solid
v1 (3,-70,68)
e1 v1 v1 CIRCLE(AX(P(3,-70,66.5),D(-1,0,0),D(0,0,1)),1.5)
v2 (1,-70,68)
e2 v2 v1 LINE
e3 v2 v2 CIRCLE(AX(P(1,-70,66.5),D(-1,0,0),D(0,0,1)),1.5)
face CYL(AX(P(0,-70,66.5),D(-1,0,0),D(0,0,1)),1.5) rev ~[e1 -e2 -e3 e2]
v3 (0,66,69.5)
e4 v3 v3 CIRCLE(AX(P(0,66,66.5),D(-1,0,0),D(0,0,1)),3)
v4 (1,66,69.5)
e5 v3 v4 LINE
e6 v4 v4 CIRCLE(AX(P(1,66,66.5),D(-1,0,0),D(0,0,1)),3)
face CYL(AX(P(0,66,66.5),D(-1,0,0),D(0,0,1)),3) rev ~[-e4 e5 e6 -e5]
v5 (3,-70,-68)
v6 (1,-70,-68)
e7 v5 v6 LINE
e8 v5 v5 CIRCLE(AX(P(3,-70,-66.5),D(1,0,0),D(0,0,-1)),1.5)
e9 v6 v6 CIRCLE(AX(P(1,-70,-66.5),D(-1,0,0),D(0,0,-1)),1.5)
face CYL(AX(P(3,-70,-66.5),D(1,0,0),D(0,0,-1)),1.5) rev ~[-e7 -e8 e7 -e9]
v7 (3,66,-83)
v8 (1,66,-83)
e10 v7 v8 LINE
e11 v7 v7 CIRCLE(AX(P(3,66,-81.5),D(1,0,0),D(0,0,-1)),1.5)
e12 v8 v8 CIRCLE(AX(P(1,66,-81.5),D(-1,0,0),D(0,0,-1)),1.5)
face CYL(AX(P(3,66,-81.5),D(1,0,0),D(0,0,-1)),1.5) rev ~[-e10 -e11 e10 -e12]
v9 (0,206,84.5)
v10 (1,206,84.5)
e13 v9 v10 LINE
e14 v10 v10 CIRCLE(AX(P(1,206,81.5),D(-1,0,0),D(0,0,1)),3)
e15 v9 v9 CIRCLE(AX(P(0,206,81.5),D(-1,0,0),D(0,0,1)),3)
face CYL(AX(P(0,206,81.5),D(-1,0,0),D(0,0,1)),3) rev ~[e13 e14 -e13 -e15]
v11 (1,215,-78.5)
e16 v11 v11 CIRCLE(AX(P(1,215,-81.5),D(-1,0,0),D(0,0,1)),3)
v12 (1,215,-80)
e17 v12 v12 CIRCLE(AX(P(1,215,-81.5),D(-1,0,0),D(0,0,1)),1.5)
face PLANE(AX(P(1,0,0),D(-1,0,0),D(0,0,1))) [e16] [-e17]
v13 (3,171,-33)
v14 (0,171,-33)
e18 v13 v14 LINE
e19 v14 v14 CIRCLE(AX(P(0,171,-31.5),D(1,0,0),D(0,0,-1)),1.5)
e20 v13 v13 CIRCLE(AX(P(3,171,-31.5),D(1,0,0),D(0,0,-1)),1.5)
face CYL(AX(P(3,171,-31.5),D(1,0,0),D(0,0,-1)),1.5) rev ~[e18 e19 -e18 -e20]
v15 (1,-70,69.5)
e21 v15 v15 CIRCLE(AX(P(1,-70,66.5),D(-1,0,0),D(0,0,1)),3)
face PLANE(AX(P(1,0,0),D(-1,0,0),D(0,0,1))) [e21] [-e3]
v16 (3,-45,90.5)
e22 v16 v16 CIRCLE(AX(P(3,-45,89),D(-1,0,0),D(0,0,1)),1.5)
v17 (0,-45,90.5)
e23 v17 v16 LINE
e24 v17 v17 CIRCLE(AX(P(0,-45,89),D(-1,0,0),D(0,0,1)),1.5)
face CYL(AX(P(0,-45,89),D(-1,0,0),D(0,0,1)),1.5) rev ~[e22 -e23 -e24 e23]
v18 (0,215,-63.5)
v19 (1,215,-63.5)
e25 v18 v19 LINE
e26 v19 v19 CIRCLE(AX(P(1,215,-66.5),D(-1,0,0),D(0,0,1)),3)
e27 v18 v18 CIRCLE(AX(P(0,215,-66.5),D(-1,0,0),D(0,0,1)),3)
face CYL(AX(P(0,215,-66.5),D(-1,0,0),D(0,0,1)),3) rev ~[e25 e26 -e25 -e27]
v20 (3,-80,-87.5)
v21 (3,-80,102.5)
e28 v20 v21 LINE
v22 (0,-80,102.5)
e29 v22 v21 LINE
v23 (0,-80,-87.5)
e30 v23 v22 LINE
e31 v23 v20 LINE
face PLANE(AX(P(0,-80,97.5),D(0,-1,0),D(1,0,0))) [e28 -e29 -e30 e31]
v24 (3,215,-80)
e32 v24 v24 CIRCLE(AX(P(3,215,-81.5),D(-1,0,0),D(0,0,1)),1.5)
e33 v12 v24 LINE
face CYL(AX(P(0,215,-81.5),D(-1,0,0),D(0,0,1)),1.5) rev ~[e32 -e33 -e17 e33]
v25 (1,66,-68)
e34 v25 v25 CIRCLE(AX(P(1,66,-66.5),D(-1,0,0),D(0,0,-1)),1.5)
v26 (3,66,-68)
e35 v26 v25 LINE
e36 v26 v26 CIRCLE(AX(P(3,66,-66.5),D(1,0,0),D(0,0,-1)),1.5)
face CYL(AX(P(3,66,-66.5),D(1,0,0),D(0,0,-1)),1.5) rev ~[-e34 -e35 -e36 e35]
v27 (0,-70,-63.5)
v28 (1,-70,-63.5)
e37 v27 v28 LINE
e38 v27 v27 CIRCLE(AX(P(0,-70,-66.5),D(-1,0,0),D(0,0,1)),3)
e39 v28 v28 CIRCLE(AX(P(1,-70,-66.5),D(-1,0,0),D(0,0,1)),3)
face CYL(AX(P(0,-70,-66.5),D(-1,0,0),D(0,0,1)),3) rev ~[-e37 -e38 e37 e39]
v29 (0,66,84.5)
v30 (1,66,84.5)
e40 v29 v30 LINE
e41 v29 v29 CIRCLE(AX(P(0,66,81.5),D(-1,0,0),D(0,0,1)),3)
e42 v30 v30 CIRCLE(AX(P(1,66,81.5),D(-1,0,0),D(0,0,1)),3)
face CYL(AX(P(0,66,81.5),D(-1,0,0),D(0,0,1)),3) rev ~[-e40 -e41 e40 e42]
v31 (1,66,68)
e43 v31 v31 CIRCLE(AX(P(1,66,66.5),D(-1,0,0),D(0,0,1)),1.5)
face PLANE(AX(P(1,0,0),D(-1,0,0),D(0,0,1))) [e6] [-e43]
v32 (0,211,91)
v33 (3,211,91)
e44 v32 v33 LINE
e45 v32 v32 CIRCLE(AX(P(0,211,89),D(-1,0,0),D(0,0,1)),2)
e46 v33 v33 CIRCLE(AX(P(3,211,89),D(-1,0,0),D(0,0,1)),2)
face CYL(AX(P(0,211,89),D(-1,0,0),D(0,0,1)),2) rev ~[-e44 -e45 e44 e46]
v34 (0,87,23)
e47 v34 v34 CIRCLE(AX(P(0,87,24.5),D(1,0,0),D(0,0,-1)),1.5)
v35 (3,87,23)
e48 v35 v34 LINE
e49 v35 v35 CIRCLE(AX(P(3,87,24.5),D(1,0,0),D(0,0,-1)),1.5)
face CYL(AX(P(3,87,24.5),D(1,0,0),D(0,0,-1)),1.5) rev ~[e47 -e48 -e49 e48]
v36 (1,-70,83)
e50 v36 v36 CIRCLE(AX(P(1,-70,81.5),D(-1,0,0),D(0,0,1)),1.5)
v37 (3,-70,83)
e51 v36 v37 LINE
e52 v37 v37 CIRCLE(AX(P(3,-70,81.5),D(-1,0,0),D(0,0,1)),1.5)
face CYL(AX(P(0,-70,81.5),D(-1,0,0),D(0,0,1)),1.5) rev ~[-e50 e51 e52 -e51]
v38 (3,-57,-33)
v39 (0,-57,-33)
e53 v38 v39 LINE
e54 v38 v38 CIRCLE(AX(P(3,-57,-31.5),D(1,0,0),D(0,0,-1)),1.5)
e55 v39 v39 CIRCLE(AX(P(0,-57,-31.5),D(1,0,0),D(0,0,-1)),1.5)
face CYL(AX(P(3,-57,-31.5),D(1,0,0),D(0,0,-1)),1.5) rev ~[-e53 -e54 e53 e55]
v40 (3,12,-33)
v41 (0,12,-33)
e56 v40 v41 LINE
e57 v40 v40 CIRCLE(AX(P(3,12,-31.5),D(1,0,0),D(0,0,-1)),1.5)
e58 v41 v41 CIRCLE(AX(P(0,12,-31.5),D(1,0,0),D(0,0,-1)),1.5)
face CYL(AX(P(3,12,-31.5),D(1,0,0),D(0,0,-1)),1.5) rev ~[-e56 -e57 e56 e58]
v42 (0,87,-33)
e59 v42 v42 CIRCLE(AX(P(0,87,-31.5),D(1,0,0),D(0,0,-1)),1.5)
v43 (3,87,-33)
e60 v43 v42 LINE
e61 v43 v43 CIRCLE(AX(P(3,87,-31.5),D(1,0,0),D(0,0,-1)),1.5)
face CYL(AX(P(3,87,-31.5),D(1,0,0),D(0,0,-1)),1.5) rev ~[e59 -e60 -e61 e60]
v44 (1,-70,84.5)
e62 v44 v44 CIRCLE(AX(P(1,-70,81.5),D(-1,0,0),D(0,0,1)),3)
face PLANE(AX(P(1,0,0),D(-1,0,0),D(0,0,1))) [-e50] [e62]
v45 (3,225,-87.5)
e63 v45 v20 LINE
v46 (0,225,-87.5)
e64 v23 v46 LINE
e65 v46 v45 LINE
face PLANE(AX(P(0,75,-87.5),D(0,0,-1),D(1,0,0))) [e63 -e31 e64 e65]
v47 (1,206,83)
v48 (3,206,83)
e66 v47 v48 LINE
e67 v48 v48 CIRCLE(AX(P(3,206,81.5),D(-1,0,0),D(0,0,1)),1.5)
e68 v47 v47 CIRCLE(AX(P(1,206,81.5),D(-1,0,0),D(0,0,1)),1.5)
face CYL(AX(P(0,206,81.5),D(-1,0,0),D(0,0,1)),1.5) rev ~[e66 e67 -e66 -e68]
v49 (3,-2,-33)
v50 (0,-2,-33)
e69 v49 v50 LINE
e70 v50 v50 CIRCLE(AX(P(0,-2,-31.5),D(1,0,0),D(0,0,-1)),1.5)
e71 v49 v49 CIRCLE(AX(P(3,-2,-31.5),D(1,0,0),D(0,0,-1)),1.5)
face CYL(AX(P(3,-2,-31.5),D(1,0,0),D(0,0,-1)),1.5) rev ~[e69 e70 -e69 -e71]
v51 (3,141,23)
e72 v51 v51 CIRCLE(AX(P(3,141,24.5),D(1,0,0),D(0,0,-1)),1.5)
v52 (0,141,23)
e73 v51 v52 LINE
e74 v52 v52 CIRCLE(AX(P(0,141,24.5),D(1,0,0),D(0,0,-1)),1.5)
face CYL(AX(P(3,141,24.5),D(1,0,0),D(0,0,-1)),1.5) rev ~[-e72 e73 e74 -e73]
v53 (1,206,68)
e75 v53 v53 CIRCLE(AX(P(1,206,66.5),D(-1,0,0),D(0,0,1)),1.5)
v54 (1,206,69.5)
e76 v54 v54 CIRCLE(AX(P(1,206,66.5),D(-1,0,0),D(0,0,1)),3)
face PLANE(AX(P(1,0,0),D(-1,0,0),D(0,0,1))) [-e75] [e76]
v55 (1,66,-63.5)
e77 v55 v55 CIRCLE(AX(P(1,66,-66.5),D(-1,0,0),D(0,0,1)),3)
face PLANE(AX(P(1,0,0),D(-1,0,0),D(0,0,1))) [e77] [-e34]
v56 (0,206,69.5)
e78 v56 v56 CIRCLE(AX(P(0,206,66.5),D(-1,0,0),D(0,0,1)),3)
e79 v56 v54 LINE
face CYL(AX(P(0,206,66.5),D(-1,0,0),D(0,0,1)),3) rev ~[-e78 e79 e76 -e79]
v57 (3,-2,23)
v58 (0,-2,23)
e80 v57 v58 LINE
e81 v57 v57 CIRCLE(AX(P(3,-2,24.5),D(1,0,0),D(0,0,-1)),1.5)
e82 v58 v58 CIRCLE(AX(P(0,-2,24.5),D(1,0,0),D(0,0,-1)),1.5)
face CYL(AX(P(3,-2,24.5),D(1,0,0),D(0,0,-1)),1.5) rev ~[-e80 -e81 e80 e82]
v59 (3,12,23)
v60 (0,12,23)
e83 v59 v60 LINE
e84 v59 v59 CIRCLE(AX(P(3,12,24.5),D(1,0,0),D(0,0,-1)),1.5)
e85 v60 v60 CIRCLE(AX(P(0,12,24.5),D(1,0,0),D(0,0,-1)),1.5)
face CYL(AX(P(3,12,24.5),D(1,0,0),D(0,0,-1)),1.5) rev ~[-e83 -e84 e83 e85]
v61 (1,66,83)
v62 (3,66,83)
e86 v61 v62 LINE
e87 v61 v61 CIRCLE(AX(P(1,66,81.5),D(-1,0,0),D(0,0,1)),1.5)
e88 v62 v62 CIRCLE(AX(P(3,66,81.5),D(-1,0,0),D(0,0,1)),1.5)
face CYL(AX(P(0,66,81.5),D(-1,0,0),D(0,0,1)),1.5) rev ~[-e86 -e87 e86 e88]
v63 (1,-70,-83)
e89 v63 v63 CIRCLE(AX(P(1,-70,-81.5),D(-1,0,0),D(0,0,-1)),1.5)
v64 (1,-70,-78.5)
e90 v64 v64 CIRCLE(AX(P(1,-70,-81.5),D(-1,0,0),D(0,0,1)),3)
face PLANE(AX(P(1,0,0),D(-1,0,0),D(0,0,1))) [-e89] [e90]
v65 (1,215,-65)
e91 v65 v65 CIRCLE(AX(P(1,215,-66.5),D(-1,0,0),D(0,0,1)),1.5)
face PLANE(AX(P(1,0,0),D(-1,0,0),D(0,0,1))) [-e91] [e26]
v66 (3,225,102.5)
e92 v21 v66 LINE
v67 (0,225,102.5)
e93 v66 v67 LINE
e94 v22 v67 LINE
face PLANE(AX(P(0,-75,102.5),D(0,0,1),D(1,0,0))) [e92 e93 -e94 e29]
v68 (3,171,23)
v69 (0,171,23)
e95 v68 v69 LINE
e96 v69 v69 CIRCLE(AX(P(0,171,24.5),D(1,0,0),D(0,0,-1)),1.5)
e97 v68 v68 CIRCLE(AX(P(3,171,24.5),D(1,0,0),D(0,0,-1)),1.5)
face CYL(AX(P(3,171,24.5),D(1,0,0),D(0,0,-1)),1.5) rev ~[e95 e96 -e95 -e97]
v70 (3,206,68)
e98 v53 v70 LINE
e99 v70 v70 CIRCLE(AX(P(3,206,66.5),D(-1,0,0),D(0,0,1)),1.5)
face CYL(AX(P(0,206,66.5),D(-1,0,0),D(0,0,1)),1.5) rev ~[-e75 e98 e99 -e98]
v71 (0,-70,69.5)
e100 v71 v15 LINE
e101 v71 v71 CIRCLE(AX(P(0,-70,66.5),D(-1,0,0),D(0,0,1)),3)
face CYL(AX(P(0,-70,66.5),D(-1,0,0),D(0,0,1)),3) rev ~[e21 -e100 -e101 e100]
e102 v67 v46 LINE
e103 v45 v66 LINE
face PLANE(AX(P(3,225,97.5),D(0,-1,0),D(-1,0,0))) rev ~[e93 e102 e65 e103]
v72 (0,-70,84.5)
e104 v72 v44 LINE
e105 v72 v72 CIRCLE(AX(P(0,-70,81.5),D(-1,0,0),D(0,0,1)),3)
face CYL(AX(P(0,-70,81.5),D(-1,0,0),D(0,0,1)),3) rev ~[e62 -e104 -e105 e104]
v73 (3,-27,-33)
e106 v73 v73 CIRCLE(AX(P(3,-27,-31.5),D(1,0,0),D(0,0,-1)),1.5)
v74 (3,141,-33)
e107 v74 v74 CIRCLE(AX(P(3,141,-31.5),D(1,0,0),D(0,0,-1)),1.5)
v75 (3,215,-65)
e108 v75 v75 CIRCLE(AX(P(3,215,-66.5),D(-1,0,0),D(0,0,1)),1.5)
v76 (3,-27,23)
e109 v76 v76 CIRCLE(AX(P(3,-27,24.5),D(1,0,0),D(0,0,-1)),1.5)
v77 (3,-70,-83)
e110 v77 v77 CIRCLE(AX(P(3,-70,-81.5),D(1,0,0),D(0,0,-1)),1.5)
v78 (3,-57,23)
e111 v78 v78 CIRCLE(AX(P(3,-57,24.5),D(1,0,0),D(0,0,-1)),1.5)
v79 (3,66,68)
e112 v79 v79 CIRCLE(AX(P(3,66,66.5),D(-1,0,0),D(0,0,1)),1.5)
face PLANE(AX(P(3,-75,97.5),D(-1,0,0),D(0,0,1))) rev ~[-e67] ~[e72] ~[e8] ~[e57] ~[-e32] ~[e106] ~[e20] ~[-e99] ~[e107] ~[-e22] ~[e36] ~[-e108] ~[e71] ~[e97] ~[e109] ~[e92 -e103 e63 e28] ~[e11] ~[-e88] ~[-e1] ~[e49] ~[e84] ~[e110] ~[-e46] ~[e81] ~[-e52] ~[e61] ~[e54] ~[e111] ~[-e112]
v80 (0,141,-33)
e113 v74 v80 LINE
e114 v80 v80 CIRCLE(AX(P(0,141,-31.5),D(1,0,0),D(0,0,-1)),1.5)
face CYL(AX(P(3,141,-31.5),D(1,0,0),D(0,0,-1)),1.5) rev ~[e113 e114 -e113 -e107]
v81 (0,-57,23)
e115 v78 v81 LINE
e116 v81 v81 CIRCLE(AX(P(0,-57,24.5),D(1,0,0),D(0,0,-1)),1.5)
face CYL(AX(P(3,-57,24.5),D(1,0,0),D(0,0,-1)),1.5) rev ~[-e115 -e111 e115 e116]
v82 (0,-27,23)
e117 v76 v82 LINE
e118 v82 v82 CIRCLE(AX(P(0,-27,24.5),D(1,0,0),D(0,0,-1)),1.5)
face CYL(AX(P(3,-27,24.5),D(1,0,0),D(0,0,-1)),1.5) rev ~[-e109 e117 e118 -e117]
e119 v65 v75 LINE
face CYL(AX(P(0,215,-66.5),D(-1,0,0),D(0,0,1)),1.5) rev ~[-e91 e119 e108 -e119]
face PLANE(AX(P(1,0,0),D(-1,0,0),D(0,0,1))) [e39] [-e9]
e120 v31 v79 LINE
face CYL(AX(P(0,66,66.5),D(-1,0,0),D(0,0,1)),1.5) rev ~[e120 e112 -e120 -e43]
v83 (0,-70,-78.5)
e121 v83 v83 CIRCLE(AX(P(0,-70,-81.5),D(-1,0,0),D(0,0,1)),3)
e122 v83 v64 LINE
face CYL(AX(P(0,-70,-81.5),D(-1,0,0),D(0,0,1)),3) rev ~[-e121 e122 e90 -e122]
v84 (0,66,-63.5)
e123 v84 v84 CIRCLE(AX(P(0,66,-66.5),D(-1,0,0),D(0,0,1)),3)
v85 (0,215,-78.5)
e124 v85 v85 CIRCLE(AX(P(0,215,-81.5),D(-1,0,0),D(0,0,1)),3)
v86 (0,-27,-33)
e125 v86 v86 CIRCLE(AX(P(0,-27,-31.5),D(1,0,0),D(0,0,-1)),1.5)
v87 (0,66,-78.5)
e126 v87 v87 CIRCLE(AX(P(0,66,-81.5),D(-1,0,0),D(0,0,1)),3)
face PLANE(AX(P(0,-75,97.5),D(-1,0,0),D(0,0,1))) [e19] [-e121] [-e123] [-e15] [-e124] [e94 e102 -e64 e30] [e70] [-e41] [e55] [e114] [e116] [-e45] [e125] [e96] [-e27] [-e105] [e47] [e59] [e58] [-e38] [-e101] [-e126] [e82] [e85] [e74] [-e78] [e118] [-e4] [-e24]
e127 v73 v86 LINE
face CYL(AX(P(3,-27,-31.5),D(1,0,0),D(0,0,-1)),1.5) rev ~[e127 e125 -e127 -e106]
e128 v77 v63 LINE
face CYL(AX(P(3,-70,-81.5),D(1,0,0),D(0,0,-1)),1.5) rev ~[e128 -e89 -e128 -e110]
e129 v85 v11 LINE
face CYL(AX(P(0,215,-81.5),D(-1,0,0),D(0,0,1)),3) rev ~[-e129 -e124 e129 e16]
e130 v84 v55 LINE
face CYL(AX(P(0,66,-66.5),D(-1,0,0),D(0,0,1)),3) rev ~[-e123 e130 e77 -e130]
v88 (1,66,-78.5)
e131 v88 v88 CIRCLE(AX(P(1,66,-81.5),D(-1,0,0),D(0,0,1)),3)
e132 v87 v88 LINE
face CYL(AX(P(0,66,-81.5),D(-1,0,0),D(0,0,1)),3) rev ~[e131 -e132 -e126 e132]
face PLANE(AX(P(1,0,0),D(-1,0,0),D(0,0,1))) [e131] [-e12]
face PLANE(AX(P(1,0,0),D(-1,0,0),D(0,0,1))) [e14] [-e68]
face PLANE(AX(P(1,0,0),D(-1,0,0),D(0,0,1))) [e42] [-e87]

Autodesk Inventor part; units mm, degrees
ref_plane "YZ Plane" through (0, 0, 0) normal (1, 0, 0) x (0, 1, 0)
ref_plane "XZ Plane" through (0, 0, 0) normal (0, 1, 0) x (-1, 0, 0)
ref_plane "XY Plane" through (0, 0, 0) normal (0, 0, 1) x (1, 0, 0)
sketch "スケッチ1" plane through (0, 0, 0) normal (1, 0, 0) x (0, 1, 0)
  line L0 (75, 87.5) -> (-75, 87.5)
  line L1 (-75, 87.5) -> (-75, -87.5)
  line L2 (-75, -87.5) -> (75, -87.5)
  line L3 (75, -87.5) -> (75, 87.5)
  line L4 (75, 87.5) -> (-75, -87.5) construction
  line L5 (-75, 87.5) -> (75, -87.5) construction
  point P0 (0, 0)
  dimension "d0" = 150
  dimension "d1" = 175
extrude "押し出し1" add sketch "スケッチ1" along normal blind 3
sketch "スケッチ2" plane through (3, 0, 0) normal (1, 0, 0) x (0, 0, -1)
  circle A0 centre (81.5, 66) radius 1.5
  circle A1 centre (66.5, 66) radius 1.5
  line L0 (87.5, -75) -> (87.5, 75) projected
  line L1 (87.5, 75) -> (-87.5, 75) projected
  line L2 (-87.5, 75) -> (-87.5, -75) projected
  line L3 (-87.5, 0) -> (87.5, 0)
  circle A2 centre (66.5, -70) radius 1.5
  circle A3 centre (81.5, -70) radius 1.5
  line L4 (-87.5, -75) -> (87.5, -75) projected
  point P0 (0, 0)
  dimension "d4" = 3
  dimension "d5" = 6
  dimension "d7" = 15
  dimension "d9" = 3
  dimension "d20" = 3
  dimension "d21" = 3
  dimension "d22" = 6
  dimension "d23" = 15
  dimension "d24" = 5
  dimension "d25" = 5
  dimension "d66" = 141
  dimension "d67" = 141
extrude "押し出し2" cut sketch "スケッチ2" against normal through all contours A0 | A1 | A2 | A3
sketch "スケッチ3" plane through (0, 0, 0) normal (-1, 0, 0) x (0, 0, 1)
  circle A0 centre (81.5, 66) radius 1.5
  circle A1 centre (66.5, 66) radius 1.5
  line L0 (87.5, 75) -> (87.5, -75) projected
  line L1 (-87.5, 75) -> (87.5, 75) projected
  line L2 (-87.5, -75) -> (-87.5, 75) projected
  line L3 (-87.5, 0) -> (87.5, 0)
  circle A2 centre (81.5, -70) radius 1.5
  circle A3 centre (66.5, -70) radius 1.5
  line L4 (87.5, -75) -> (-87.5, -75) projected
  point P0 (0, 0)
  dimension "d12" = 6
  dimension "d13" = 3
  dimension "d14" = 15
  dimension "d15" = 3
  dimension "d26" = 3
  dimension "d27" = 3
  dimension "d28" = 15
  dimension "d29" = 6
  dimension "d30" = 5
  dimension "d31" = 5
  dimension "d64" = 141
  dimension "d65" = 141
sketch "スケッチ6" plane through (3, 0, 0) normal (1, 0, 0) x (0, 0, -1)
  circle A0 centre (-24.5, -57) radius 1.5
  circle A1 centre (31.5, -57) radius 1.5
  circle A2 centre (-24.5, -27) radius 1.5
  circle A3 centre (31.5, -27) radius 1.5
  line L0 (-87.5, -75) -> (87.5, -75) projected
  line L1 (-87.5, 75) -> (-87.5, -75) projected
  line L2 (87.5, -75) -> (87.5, 75) projected
  point P0 (0, 0)
  dimension "d32" = 3
  dimension "d33" = 3
  dimension "d34" = 3
  dimension "d35" = 18
  dimension "d36" = 18
  dimension "d38" = 30
  dimension "d43" = 3
  dimension "d46" = 56
  dimension "d47" = 56
  dimension "d50" = 56
  dimension "d51" = 56
extrude "押し出し4" cut sketch "スケッチ6" against normal through all
sketch "スケッチ7" plane through (0, -75, 87.5) normal (0, 0, 1) x (1, 0, 0)
  line L0 (0, 150) -> (3, 150) projected
  line L1 (0, 0) -> (3, 0) projected
  line L2 (0, 150) -> (3, 150)
  line L3 (3, 150) -> (3, 0)
  line L4 (3, 0) -> (0, 0)
  line L5 (0, 0) -> (0, 150)
  point P0 (0, 75)
extrude "押し出し5" add sketch "スケッチ7" along normal blind 10
sketch "スケッチ9" plane through (0, -75, -87.5) normal (0, -1, 0) x (1, 0, 0)
  line L0 (3, 0) -> (3, 185) projected
  line L1 (0, 185) -> (0, 0) projected
  line L2 (3, 18) -> (0, 18)
  line L3 (0, 18) -> (0, 43)
  line L4 (0, 43) -> (3, 43)
  line L5 (3, 43) -> (3, 18)
  line L6 (0, 142) -> (3, 142)
  line L7 (3, 142) -> (3, 167)
  line L8 (3, 167) -> (0, 167)
  line L9 (0, 167) -> (0, 142)
  line L10 (0, 0) -> (3, 0) projected
  line L11 (0, 185) -> (3, 185) projected
  point P0 (0, 87.5)
  point P1 (1.5, 185)
  point P2 (0, 167)
  point P3 (3, 142)
  point P4 (3, 43)
  point P5 (0, 18)
  dimension "d58" = 18
  dimension "d59" = 25
  dimension "d60" = 18
  dimension "d61" = 25
extrude "押し出し7" add sketch "スケッチ9" along normal blind 5
sketch "スケッチ10" plane through (0, 75, -87.5) normal (0, 1, 0) x (1, 0, 0)
  line L0 (0, 0) -> (0, -185) projected
  line L1 (3, 0) -> (3, -185) projected
  line L2 (0, 0) -> (3, 0)
  line L3 (3, 0) -> (3, -185)
  line L4 (3, -185) -> (0, -185)
  line L5 (0, -185) -> (0, 0)
  point P0 (0, -87.5)
  point P1 (3, 0)
  point P2 (0, -185)
extrude "押し出し8" add sketch "スケッチ10" along normal blind 150
sketch "スケッチ11" plane through (3, 0, 0) normal (1, 0, 0) x (0, 0, -1)
  line L0 (44.5, -75) -> (-54.5, -75) projected
  line L1 (-54.5, -75) -> (44.5, -75)
  line L2 (44.5, -75) -> (44.5, -6)
  line L3 (44.5, -6) -> (-54.5, -6)
  line L4 (-54.5, -6) -> (-54.5, -75)
  line L5 (-54.5, -6) -> (44.5, -6)
  line L6 (44.5, -6) -> (44.5, 123)
  line L7 (44.5, 123) -> (-54.5, 123)
  line L8 (-54.5, 123) -> (-54.5, -6)
  circle A0 centre (-24.5, 87) radius 1.5
  circle A1 centre (31.5, 87) radius 1.5
  circle A2 centre (31.5, 12) radius 1.5
  circle A3 centre (-24.5, 12) radius 1.5
  line L9 (-54.5, 123) -> (44.5, 123)
  line L10 (44.5, 123) -> (44.5, 192)
  line L11 (44.5, 192) -> (-54.5, 192)
  line L12 (-54.5, 192) -> (-54.5, 123)
  circle A4 centre (31.5, 141) radius 1.5
  circle A5 centre (-24.5, 141) radius 1.5
  circle A6 centre (-24.5, 171) radius 1.5
  circle A7 centre (31.5, 171) radius 1.5
  point P0 (0, 0)
  point P1 (-5, -75)
  dimension "d70" = 69
  dimension "d71" = 129
  dimension "d72" = 3
  dimension "d73" = 3
  dimension "d74" = 30
  dimension "d75" = 13
  dimension "d89" = 3
  dimension "d90" = 3
  dimension "d136" = 69
  dimension "d137" = 18
  dimension "d138" = 18
  dimension "d139" = 75
  dimension "d140" = 75
  dimension "d141" = 18
  dimension "d142" = 18
  dimension "d143" = 3
  dimension "d144" = 3
  dimension "d145" = 30
  dimension "d146" = 30
  dimension "d147" = 3
  dimension "d148" = 3
extrude "押し出し9" cut sketch "スケッチ11" against normal blind 10 contours A0 | A1 | A2 | A3 | A4 | A5 | A6 | A7
extrude "押し出し10" cut sketch "スケッチ3" against normal blind 10 contours A0 | A1 | A2 | A3
sketch "スケッチ12" plane through (3, 0, 0) normal (1, 0, 0) x (0, 0, -1)
  circle A0 centre (-24.5, -2) radius 1.5
  line L0 (44.5, -75) -> (-54.5, -75) projected
  line L1 (-54.5, -75) -> (44.5, -75)
  line L2 (44.5, -75) -> (44.5, 118.2997)
  line L3 (44.5, 118.2997) -> (-54.5, 118.2997)
  line L4 (-54.5, 118.2997) -> (-54.5, -75)
  circle A1 centre (31.5, -2) radius 1.5
  circle A2 centre (-24.5, -57) radius 1.5 projected
  circle A3 centre (31.5, -57) radius 1.5 projected
  point P0 (0, 0)
  dimension "d93" = 30
  dimension "d94" = 3
  dimension "d95" = 13
  dimension "d96" = 3
  dimension "d97" = 55
  dimension "d98" = 55
extrude "押し出し11" cut sketch "スケッチ12" against normal blind 10 contours A0 | A1
sketch "スケッチ13" plane through (0, 0, 0) normal (-1, 0, 0) x (0, 0, 1)
  circle A0 centre (-81.5, 66) radius 1.5 projected
  circle A1 centre (-81.5, 66) radius 3
  circle A2 centre (-66.5, 66) radius 1.5 projected
  circle A3 centre (-66.5, 66) radius 3
  circle A4 centre (66.5, 66) radius 1.5 projected
  circle A5 centre (66.5, 66) radius 3
  circle A6 centre (81.5, 66) radius 1.5 projected
  circle A7 centre (81.5, 66) radius 3
  circle A8 centre (-81.5, -70) radius 1.5 projected
  circle A9 centre (-81.5, -70) radius 3
  circle A10 centre (-66.5, -70) radius 1.5 projected
  circle A11 centre (-66.5, -70) radius 3
  circle A12 centre (66.5, -70) radius 1.5 projected
  circle A13 centre (66.5, -70) radius 3
  circle A14 centre (81.5, -70) radius 1.5 projected
  circle A15 centre (81.5, -70) radius 3
  point P0 (0, 0)
  dimension "d101" = 6
  dimension "d102" = 6
  dimension "d103" = 6
  dimension "d104" = 6
  dimension "d105" = 6
  dimension "d106" = 6
  dimension "d107" = 6
  dimension "d108" = 6
extrude "押し出し12" cut sketch "スケッチ13" against normal blind 1
sketch "スケッチ14" plane through (0, 0, 0) normal (-1, 0, 0) x (0, 0, 1)
  circle A0 centre (66.5, 206) radius 1.5
  circle A1 centre (81.5, 206) radius 1.5
  line L0 (97.5, -80) -> (97.5, 225) projected
  line L1 (-87.5, 225) -> (97.5, 225) projected
  point P0 (0, 0)
  point P1 (97.5, -75)
  dimension "d111" = 16
  dimension "d112" = 15
  dimension "d113" = 19
  dimension "d114" = 19
  dimension "d115" = 3
  dimension "d116" = 3
extrude "押し出し13" cut sketch "スケッチ14" against normal blind 10
sketch "スケッチ15" plane through (0, 0, 0) normal (-1, 0, 0) x (0, 0, 1)
  circle A0 centre (66.5, 206) radius 1.5 projected
  circle A1 centre (66.5, 206) radius 3
  circle A2 centre (81.5, 206) radius 1.5 projected
  circle A3 centre (81.5, 206) radius 3
  point P0 (0, 0)
  dimension "d119" = 6
  dimension "d120" = 6
extrude "押し出し14" cut sketch "スケッチ15" against normal blind 1
sketch "スケッチ16" plane through (0, 0, 0) normal (-1, 0, 0) x (0, 0, 1)
  circle A0 centre (-81.5, 215) radius 1.5
  circle A1 centre (-66.5, 215) radius 1.5
  line L0 (-87.5, -75) -> (-87.5, 225) projected
  line L1 (-87.5, 225) -> (97.5, 225) projected
  point P0 (0, 0)
  dimension "d123" = 6
  dimension "d124" = 10
  dimension "d126" = 10
  dimension "d127" = 3
  dimension "d128" = 3
  dimension "d131" = 15
extrude "押し出し15" cut sketch "スケッチ16" against normal through all
sketch "スケッチ17" plane through (0, 0, 0) normal (-1, 0, 0) x (0, 0, 1)
  circle A0 centre (-81.5, 215) radius 1.5 projected
  circle A1 centre (-81.5, 215) radius 3
  circle A2 centre (-66.5, 215) radius 1.5 projected
  circle A3 centre (-66.5, 215) radius 3
  point P0 (0, 0)
  dimension "d132" = 6
  dimension "d133" = 6
extrude "押し出し16" cut sketch "スケッチ17" against normal blind 1
sketch "スケッチ19" plane through (0, -75, 97.5) normal (0, 0, 1) x (1, 0, 0)
  line L0 (3, 0) -> (3, 300) projected
  line L1 (0, 0) -> (3, 0) projected
  line L2 (3, 300) -> (0, 300)
  line L3 (0, 300) -> (0, 0)
  line L4 (0, 0) -> (3, 0)
  line L5 (3, 0) -> (3, 300)
  point P0 (0, 75)
extrude "押し出し17" add sketch "スケッチ19" along normal blind 5
sketch "スケッチ18" plane through (0, 0, 0) normal (-1, 0, 0) x (0, 0, 1)
  line L0 (77.5, 225) -> (100.5, 225)
  line L1 (100.5, 225) -> (100.5, -75)
  line L2 (100.5, -75) -> (77.5, -75)
  line L3 (77.5, -75) -> (77.5, 225)
  line L4 (102.5, 225) -> (102.5, -75) projected
  circle A0 centre (89, -45) radius 1.5
  circle A1 centre (89, 211) radius 2
  line L5 (102.5, -75) -> (79.5, -75) projected
  point P0 (0, 0)
  point P1 (91, -75)
  dimension "d149" = 23
  dimension "d153" = 2
  dimension "d154" = 14
  dimension "d155" = 3
  dimension "d156" = 30
  dimension "d157" = 4
  dimension "d160" = 11.5
  dimension "d161" = 11.5
extrude "押し出し18" cut sketch "スケッチ18" against normal blind 5 contours A0 | A1
sketch "スケッチ20" plane through (0, -75, 97.5) normal (0, -1, 0) x (1, 0, 0)
  line L0 (3, 0) -> (0, 0) projected
  line L1 (3, 0) -> (3, 5) projected
  line L2 (0, 5) -> (3, 5) projected
  line L3 (0, 0) -> (0, 5) projected
  point P0 (0, -97.5)
extrude "押し出し19" add sketch "スケッチ20" along normal blind 5
properties part number "BP_Exterior-Right" material "PBT プラスチック"
